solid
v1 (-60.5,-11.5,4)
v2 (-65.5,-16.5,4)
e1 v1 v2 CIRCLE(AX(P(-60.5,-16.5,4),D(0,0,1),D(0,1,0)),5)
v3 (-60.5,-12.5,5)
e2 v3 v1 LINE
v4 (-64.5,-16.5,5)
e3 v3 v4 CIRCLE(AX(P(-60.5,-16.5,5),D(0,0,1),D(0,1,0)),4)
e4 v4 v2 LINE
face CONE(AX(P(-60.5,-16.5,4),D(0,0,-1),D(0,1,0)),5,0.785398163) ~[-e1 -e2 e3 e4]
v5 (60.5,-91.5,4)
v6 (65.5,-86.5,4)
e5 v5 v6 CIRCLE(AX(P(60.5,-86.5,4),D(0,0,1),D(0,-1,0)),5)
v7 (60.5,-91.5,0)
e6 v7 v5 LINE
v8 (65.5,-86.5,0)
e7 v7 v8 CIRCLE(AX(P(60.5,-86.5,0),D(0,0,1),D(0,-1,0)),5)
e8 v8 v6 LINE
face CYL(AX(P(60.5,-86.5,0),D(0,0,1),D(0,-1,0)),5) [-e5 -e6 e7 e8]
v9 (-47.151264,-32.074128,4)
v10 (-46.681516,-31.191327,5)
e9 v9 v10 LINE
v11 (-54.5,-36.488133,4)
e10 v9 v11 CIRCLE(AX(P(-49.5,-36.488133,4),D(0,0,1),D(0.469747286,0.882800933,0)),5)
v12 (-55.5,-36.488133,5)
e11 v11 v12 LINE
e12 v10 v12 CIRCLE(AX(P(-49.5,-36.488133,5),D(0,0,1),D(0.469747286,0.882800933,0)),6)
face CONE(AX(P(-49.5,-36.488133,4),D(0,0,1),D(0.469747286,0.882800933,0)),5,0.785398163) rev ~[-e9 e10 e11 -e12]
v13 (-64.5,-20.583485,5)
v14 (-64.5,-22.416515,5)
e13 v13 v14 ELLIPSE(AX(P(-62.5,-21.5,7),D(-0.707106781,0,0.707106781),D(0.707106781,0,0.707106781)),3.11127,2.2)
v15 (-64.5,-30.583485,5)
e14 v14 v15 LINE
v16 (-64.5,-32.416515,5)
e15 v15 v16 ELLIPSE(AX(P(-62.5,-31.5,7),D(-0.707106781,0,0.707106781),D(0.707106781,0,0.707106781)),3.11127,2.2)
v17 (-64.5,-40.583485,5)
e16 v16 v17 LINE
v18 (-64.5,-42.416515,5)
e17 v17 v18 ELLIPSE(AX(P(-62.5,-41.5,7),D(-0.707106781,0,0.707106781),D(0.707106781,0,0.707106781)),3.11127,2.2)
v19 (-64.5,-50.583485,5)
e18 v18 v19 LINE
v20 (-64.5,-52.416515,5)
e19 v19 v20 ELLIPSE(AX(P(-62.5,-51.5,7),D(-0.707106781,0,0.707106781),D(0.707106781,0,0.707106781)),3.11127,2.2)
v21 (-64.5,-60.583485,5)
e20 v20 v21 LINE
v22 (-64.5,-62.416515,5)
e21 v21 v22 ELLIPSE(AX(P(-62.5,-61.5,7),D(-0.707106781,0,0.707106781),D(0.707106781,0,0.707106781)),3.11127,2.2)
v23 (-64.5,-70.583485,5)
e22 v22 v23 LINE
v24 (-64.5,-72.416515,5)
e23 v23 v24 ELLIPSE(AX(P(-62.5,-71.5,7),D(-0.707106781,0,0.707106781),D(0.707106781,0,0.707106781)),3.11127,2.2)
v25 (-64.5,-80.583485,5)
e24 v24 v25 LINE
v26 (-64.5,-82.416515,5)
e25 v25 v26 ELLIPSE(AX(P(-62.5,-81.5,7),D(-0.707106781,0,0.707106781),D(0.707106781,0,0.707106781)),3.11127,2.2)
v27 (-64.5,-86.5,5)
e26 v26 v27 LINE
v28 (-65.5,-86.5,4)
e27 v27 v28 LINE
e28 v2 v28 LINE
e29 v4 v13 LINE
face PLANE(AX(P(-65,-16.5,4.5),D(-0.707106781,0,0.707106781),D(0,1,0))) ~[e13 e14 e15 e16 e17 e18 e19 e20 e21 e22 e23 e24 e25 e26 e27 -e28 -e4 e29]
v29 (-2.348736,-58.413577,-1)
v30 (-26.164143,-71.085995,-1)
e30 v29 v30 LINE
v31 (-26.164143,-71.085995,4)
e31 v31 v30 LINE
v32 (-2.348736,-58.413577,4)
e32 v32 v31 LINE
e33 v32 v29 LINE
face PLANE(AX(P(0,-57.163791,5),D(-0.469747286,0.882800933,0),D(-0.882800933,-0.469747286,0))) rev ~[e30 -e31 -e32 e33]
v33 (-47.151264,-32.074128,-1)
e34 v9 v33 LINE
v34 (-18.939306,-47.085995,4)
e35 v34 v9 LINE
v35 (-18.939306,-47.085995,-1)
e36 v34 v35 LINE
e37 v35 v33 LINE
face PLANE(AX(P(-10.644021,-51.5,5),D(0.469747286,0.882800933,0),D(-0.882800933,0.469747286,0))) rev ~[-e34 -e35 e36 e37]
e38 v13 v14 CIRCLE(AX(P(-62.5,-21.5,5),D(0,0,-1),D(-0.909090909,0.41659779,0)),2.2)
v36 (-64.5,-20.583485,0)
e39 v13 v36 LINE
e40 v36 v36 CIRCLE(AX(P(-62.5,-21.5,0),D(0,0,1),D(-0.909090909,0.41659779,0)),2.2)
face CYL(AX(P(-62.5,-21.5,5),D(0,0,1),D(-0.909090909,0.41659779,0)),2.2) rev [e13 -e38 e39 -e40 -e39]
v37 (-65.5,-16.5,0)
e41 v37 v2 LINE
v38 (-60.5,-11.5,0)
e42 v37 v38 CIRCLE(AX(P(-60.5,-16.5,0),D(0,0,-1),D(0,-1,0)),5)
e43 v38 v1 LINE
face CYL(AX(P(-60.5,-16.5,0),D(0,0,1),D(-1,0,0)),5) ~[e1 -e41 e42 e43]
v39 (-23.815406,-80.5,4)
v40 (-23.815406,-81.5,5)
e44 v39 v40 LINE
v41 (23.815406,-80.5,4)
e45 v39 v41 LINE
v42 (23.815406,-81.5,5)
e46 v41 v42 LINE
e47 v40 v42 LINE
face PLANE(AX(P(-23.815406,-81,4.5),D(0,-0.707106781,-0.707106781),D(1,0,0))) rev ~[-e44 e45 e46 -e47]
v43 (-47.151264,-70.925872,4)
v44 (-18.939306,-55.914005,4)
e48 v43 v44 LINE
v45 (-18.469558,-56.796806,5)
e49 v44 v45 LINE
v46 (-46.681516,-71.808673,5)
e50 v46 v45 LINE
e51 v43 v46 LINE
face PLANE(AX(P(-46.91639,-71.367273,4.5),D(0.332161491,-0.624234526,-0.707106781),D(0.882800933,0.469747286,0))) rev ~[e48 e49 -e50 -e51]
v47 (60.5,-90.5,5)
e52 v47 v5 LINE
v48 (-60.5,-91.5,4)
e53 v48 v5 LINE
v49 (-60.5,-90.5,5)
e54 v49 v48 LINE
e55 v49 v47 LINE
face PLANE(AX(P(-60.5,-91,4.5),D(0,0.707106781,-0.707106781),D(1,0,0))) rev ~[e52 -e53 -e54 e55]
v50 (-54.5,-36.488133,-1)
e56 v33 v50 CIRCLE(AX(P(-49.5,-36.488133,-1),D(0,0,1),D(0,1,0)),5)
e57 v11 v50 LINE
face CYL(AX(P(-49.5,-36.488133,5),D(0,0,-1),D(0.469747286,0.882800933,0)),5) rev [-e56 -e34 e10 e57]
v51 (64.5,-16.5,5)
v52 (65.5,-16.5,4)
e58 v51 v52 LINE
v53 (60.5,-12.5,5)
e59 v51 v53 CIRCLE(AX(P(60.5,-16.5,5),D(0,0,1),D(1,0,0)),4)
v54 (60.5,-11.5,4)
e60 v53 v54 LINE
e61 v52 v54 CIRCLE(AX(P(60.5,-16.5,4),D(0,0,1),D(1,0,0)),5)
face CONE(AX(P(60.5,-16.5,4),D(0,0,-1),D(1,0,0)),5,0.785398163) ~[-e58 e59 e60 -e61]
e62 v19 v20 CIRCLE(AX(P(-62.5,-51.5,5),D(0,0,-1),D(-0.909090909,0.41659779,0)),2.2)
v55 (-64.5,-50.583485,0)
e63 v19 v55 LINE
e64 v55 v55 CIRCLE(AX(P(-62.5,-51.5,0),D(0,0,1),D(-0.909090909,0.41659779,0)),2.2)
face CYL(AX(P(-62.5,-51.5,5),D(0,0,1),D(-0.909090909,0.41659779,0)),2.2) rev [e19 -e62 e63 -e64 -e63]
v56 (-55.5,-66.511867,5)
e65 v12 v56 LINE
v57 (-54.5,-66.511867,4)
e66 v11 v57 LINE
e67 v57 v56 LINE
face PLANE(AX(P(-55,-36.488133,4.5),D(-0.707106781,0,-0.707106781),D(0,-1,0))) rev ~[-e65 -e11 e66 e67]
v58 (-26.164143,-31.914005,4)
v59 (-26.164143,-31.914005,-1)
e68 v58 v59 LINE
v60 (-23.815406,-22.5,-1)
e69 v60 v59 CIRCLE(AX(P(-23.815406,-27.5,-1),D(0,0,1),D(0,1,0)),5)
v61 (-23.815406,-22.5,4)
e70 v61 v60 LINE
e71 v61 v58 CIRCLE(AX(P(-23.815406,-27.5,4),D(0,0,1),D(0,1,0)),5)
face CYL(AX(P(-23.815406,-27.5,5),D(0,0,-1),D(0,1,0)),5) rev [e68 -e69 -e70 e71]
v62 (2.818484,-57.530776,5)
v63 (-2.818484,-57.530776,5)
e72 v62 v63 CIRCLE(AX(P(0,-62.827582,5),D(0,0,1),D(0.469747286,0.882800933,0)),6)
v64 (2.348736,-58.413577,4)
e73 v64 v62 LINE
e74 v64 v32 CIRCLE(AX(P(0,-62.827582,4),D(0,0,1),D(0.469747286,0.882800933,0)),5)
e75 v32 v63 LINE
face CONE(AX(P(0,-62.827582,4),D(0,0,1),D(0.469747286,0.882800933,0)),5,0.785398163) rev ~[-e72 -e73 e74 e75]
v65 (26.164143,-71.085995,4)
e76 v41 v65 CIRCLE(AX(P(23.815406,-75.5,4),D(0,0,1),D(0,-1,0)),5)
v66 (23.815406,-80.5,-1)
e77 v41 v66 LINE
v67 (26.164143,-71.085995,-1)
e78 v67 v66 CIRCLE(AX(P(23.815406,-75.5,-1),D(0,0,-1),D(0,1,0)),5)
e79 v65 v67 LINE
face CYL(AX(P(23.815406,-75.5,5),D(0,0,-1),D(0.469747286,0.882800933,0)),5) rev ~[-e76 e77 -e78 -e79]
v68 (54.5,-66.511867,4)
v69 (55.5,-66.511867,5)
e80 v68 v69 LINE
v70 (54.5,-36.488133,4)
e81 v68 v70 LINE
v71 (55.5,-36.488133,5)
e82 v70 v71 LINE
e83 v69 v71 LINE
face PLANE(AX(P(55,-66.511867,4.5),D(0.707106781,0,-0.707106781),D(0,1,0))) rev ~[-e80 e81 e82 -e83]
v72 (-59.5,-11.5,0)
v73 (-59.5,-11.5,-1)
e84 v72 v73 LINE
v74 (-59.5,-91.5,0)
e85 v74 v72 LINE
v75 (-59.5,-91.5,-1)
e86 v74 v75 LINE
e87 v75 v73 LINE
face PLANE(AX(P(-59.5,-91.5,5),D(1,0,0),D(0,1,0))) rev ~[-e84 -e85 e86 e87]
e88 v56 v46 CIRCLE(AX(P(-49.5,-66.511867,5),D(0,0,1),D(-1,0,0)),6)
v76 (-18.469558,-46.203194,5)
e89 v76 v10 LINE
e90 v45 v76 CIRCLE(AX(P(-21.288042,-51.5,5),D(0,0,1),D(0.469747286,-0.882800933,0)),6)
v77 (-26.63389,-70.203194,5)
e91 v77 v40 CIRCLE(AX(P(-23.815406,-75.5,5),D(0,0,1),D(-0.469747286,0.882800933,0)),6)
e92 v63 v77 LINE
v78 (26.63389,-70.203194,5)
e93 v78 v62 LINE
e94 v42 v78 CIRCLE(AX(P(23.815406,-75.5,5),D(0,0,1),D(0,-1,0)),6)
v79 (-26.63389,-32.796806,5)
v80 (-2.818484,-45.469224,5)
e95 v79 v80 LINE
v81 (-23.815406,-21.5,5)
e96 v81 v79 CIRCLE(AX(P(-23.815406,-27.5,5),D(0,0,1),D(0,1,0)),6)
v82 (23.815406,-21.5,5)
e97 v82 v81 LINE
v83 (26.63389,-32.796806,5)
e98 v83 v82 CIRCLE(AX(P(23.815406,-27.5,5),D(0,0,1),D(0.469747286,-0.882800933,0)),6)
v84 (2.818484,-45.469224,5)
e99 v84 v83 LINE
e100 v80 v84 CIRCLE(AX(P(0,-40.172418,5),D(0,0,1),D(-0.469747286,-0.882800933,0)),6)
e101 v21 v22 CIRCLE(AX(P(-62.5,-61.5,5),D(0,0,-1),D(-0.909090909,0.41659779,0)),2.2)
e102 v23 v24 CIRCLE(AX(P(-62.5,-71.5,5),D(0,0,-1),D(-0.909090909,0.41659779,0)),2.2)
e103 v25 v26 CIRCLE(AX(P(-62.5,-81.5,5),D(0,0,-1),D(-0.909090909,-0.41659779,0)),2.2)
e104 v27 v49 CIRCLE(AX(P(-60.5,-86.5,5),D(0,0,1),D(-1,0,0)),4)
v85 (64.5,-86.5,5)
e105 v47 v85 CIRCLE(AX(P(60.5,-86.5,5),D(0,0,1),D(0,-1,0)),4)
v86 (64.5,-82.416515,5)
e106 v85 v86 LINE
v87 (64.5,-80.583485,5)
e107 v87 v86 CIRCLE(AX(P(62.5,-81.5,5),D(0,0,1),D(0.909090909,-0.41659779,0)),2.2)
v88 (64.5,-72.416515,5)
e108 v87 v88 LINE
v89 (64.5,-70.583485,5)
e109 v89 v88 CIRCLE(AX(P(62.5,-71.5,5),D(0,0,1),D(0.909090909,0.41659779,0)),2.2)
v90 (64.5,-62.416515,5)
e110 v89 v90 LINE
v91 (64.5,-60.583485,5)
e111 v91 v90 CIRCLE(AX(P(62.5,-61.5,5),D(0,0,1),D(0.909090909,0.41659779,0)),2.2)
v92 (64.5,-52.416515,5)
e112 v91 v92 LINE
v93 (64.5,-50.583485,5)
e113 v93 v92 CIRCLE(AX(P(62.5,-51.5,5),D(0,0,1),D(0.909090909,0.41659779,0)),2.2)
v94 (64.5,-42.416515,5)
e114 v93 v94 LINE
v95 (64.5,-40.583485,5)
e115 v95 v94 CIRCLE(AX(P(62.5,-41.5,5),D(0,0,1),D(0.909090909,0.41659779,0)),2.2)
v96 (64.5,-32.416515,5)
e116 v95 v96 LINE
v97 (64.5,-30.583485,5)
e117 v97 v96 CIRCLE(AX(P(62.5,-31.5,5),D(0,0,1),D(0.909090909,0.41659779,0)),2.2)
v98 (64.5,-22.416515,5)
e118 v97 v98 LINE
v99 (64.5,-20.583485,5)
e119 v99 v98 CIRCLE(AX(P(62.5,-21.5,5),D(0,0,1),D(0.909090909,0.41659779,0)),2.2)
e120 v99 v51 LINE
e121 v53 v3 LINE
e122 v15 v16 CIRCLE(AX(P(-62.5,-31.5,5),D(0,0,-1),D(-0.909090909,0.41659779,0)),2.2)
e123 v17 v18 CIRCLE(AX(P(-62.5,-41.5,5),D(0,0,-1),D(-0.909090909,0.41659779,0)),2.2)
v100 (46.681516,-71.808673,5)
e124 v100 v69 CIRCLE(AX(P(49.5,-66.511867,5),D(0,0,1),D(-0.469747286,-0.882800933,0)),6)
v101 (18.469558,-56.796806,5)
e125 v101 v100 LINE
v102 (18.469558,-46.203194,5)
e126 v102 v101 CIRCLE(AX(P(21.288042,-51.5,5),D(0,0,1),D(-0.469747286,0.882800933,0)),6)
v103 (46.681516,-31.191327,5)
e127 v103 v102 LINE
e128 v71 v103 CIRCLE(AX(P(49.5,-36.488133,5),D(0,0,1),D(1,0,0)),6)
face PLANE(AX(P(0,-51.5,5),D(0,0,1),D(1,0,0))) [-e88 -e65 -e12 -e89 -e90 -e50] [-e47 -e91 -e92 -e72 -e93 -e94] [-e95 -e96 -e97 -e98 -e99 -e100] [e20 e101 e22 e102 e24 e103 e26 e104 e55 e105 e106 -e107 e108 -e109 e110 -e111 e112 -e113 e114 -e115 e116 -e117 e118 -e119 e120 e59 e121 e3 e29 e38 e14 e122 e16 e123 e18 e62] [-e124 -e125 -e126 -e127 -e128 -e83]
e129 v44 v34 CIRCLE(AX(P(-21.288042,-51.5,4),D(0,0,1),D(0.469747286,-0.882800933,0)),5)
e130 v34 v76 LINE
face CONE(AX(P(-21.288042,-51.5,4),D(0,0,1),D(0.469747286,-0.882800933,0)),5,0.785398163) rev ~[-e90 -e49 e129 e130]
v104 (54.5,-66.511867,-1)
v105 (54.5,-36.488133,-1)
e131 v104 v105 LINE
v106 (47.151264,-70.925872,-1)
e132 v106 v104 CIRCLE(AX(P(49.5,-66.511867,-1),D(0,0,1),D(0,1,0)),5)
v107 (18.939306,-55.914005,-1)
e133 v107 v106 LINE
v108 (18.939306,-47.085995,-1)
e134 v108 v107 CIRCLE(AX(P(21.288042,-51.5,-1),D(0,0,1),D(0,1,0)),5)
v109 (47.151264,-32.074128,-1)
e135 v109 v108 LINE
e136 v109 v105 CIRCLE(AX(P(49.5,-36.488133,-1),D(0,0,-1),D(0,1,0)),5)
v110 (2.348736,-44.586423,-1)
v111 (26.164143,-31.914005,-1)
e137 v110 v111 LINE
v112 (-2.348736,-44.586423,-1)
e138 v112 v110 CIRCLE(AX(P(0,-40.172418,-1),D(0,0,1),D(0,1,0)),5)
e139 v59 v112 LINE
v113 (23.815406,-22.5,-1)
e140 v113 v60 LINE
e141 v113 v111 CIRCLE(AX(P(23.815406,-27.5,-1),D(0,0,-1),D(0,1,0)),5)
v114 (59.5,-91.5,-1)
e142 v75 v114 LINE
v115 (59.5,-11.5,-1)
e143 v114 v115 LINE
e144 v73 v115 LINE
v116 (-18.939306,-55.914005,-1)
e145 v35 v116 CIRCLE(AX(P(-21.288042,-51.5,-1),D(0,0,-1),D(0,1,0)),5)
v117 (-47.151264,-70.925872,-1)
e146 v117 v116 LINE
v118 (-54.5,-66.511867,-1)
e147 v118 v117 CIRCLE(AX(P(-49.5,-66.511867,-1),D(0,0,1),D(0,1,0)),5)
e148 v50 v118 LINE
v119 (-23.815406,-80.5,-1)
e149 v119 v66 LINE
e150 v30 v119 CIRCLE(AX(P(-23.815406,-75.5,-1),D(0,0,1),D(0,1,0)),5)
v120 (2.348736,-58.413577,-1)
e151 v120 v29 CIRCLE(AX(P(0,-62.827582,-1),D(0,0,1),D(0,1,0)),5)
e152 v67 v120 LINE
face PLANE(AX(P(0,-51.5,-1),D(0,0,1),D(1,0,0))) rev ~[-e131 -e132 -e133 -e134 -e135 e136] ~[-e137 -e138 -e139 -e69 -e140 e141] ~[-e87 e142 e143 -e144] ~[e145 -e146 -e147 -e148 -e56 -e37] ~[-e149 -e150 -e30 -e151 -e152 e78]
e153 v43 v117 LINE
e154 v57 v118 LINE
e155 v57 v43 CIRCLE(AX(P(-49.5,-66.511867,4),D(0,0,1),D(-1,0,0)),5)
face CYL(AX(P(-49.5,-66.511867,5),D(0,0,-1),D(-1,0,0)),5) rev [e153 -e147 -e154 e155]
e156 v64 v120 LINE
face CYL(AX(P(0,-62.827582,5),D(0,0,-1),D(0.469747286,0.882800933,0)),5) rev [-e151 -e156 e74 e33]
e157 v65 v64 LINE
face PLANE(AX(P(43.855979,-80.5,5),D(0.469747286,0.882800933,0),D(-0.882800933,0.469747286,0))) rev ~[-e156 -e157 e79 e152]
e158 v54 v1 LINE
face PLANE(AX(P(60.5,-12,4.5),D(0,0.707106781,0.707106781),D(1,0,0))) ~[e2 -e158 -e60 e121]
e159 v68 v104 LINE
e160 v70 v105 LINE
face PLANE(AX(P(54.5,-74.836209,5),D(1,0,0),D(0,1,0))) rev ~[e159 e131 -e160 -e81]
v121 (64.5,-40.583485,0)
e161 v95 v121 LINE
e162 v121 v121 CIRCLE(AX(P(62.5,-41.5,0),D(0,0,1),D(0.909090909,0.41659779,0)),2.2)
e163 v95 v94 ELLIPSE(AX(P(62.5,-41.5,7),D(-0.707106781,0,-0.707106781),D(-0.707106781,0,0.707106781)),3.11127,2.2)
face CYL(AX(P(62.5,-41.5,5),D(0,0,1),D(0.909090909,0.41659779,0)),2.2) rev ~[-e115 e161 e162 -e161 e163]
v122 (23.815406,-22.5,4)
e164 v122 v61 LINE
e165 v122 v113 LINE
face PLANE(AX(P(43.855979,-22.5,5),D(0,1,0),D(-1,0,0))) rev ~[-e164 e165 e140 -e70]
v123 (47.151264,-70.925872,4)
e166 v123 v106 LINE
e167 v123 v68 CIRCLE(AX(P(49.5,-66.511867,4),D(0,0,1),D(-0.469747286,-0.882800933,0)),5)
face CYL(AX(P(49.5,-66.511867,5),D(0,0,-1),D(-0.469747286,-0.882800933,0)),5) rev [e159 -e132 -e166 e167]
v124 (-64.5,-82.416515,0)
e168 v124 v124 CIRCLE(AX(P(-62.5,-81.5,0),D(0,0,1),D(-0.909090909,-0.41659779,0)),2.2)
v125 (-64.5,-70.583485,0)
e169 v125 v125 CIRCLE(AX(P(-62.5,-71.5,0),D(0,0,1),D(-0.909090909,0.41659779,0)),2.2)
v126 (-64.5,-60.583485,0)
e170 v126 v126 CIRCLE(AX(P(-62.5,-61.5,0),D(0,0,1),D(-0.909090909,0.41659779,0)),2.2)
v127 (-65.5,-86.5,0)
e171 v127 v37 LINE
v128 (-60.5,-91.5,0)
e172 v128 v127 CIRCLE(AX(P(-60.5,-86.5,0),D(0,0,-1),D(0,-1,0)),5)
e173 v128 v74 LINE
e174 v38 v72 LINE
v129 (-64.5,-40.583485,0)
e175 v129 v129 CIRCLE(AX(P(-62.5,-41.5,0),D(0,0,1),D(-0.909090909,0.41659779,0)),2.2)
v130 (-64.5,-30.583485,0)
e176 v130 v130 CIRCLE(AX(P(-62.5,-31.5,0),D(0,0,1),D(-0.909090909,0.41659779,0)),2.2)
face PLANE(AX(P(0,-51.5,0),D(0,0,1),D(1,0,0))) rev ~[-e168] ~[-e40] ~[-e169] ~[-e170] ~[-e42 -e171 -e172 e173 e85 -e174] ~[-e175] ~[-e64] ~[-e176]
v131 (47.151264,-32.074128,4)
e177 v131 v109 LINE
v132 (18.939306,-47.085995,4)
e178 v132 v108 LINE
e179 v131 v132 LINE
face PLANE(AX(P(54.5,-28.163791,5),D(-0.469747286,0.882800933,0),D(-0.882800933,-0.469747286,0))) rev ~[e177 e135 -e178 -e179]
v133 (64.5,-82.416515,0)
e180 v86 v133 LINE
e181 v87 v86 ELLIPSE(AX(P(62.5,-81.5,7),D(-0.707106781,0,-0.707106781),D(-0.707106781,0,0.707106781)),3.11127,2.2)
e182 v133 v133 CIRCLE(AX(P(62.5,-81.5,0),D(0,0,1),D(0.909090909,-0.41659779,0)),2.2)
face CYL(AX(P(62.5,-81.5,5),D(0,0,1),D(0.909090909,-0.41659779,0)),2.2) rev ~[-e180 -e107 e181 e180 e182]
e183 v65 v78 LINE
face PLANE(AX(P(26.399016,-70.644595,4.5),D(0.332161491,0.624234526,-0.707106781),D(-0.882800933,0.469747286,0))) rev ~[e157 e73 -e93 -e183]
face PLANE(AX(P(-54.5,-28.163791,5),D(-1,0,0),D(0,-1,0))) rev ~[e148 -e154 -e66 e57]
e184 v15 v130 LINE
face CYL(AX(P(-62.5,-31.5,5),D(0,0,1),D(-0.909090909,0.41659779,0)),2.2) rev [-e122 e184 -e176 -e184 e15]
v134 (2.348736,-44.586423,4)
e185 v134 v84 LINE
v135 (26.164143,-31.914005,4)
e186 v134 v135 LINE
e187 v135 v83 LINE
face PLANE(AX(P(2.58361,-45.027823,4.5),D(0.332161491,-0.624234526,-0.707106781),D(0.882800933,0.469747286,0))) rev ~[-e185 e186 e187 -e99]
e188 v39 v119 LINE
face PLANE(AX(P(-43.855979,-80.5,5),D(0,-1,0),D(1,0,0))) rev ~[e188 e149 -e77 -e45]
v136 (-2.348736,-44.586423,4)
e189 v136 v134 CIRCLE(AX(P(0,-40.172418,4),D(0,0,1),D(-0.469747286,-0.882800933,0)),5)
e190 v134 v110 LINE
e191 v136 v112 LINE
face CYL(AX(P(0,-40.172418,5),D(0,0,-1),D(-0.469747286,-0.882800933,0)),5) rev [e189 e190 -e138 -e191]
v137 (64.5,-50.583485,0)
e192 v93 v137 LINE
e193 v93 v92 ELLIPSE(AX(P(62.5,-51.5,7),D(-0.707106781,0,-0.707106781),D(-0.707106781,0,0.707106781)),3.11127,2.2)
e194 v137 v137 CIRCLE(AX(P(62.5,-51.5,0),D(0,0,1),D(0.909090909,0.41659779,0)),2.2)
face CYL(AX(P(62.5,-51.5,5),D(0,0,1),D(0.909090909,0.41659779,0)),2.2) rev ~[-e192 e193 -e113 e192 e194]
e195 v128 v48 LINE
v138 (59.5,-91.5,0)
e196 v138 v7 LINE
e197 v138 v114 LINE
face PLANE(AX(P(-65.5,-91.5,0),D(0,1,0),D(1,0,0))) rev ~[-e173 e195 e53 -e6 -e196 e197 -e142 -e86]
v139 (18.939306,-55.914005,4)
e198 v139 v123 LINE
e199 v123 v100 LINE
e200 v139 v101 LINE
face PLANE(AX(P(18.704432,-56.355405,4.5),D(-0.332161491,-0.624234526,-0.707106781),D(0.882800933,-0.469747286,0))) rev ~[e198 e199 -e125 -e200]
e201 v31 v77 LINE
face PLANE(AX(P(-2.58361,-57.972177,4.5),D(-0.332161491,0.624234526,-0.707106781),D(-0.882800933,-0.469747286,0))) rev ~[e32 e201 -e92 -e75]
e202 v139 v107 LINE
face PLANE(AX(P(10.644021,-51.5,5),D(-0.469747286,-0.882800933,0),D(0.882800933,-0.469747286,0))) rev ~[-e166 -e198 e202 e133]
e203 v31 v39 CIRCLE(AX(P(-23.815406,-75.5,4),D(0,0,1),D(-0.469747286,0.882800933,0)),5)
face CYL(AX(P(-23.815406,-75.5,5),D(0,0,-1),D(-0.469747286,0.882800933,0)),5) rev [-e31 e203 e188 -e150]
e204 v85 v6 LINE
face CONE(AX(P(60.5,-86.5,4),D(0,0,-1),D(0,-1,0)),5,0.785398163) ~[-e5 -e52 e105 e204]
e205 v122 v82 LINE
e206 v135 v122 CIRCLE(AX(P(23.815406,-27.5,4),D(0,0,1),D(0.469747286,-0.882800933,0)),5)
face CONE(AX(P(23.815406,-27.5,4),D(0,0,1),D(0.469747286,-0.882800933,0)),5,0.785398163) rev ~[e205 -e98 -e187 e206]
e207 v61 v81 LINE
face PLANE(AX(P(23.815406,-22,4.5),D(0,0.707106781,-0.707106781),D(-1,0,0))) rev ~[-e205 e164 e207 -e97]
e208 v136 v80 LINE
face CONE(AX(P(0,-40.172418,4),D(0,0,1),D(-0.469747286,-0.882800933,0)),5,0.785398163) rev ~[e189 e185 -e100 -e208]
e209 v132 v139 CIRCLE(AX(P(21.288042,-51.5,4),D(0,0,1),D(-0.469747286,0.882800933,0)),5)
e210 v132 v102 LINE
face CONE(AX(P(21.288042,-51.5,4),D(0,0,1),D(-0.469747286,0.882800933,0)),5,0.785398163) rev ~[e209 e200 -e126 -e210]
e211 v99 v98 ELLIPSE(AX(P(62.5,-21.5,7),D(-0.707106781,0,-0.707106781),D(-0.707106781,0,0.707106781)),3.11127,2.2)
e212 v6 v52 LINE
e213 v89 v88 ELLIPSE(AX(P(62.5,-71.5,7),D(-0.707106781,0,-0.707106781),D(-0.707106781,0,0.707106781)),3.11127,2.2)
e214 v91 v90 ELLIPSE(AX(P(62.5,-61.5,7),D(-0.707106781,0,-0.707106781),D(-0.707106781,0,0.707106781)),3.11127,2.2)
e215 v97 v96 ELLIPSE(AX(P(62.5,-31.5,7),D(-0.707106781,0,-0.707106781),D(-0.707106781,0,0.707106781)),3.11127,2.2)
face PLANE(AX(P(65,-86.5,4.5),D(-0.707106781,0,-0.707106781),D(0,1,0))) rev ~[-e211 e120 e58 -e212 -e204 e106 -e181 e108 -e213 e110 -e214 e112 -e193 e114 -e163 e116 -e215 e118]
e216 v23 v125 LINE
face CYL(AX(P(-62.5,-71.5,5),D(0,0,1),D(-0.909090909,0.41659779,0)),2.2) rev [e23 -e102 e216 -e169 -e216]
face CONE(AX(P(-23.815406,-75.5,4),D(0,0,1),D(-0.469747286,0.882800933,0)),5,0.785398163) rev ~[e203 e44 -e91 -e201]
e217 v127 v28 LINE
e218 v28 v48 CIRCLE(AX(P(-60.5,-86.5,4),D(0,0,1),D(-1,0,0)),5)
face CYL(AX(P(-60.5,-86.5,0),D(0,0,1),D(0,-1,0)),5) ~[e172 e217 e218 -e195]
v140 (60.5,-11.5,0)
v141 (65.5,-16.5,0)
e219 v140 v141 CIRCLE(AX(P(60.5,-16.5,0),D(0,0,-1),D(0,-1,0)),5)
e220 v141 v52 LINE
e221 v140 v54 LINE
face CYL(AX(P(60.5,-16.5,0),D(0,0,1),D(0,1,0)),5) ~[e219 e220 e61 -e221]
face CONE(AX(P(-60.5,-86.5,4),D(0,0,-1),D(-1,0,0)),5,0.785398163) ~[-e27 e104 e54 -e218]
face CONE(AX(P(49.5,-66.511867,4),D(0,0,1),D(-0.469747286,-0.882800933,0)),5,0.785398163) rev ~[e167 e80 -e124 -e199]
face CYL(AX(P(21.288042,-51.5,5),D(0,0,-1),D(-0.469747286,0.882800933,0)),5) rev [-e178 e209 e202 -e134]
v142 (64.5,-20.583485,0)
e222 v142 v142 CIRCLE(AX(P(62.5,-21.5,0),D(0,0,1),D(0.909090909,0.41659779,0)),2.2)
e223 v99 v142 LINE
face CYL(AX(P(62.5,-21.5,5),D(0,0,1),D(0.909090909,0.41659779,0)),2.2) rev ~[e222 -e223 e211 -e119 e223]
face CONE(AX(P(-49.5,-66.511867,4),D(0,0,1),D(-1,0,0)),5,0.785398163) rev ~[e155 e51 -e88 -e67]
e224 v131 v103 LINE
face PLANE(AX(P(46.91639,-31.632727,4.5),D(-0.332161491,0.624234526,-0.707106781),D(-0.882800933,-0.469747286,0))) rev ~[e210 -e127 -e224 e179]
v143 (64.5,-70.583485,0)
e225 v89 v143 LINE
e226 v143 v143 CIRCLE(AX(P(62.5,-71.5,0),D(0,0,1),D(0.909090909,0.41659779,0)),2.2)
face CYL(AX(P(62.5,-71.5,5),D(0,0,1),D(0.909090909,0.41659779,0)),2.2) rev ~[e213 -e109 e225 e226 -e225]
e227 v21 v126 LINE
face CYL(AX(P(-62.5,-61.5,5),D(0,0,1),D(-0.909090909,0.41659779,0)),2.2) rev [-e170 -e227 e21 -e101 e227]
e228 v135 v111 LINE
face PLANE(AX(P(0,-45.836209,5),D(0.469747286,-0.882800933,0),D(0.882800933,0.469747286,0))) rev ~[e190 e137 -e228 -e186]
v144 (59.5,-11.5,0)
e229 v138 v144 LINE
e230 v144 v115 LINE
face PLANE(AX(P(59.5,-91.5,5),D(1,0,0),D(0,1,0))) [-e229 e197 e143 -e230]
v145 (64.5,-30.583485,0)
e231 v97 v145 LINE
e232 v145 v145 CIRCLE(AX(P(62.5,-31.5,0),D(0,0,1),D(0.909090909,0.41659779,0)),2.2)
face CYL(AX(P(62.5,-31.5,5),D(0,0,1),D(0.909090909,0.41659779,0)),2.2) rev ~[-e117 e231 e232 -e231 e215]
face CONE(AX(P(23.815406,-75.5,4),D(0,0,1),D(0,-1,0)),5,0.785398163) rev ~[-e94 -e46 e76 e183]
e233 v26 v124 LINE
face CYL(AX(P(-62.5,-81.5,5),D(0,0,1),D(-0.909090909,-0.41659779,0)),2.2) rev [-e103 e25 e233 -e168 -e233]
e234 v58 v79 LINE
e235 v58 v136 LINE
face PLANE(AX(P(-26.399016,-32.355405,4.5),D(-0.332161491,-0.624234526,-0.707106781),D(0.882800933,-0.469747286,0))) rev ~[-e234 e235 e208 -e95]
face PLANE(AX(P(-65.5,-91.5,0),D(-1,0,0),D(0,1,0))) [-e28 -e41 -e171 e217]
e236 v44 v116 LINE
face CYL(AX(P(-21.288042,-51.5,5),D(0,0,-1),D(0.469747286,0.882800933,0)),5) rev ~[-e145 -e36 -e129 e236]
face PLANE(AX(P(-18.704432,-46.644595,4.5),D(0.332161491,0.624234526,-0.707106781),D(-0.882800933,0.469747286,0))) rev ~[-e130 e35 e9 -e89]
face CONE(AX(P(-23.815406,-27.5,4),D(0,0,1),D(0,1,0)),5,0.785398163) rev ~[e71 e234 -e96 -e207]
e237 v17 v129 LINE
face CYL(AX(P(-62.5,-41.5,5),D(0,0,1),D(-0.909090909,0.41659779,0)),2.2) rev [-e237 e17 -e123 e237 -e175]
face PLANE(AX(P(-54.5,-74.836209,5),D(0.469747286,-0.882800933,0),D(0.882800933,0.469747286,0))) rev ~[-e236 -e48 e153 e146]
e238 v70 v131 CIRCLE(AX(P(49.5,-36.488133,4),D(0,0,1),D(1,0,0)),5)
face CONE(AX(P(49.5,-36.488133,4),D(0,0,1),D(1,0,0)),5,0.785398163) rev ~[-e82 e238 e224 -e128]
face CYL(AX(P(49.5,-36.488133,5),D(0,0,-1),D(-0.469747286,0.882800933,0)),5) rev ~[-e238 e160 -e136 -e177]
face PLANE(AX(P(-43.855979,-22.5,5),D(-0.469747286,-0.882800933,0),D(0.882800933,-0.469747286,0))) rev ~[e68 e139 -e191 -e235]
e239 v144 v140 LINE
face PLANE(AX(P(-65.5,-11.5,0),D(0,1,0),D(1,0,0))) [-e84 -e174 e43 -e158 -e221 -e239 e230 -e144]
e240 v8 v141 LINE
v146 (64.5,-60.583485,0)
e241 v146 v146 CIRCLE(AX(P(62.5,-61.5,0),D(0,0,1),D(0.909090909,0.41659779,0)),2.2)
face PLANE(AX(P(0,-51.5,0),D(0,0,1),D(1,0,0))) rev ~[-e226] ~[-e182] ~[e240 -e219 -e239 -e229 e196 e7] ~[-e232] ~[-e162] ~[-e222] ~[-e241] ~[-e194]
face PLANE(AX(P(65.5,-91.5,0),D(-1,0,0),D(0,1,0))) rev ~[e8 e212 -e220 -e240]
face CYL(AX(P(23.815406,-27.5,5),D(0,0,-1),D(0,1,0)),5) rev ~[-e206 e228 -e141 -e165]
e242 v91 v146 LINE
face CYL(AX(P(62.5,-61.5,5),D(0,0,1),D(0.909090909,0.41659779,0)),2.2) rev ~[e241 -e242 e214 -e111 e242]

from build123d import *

# Parameters (mm, degrees)
SKETCH_3_W          = 131
SKETCH_3_H          = 80
EXTRUDE_3_DEPTH     = 5
SKETCH_4_W          = 119
SKETCH_4_H          = 80
EXTRUDE_4_DEPTH     = 6
FILLET_2_R          = 5
CHAMFER_1_SIZE      = 1
CUT_EXTRUDE_1_DEPTH = 6
FILLET_3_R          = 5
CHAMFER_2_SIZE      = 1
SKETCH_6_R          = 2.2
CUT_EXTRUDE_2_DEPTH = 11


with BuildPart() as part:
    # 草图3 → 凸台-拉伸3 (new body)
    with BuildSketch(Plane.XY):
        with Locations((0, -51.5)):
            Rectangle(SKETCH_3_W, SKETCH_3_H)
    extrude(amount=EXTRUDE_3_DEPTH)

    # 草图4 → 凸台-拉伸4 (add)
    with BuildSketch(Plane.XY.offset(5)):
        with Locations((0, -51.5)):
            Rectangle(SKETCH_4_W, SKETCH_4_H)
    extrude(amount=-EXTRUDE_4_DEPTH)

    # 圆角2
    fillet_2_edges = [part.edges().sort_by_distance(p)[0] for p in [
        (-65.5, -11.5, 2.5),
        (65.5, -11.5, 2.5),
        (65.5, -91.5, 2.5),
        (-65.5, -91.5, 2.5),
    ]]
    fillet(fillet_2_edges, radius=FILLET_2_R)

    # 倒角1
    chamfer_1_edges = [part.edges().sort_by_distance(p)[0] for p in [
        (0, -11.5, 5),
        (65.5, -51.5, 5),
        (0, -91.5, 5),
        (-65.5, -51.5, 5),
        (64.035533906, -90.035533906, 5),
        (-64.035533906, -90.035533906, 5),
        (-64.035533906, -12.964466094, 5),
        (64.035533906, -12.964466094, 5),
    ]]
    chamfer(chamfer_1_edges, length=CHAMFER_1_SIZE)

    # 草图5 → 切除-拉伸1 (cut)
    with BuildSketch(Plane.XY.offset(5)):
        Polygon((-10.644021059, -51.5), (-54.5, -28.163791023), (-54.5, -74.836208978), align=None)
        Polygon((43.855978941, -22.5), (-43.855978941, -22.5), (0, -45.836208978), align=None)
        Polygon((54.5, -28.163791023), (10.644021059, -51.5), (54.5, -74.836208978), align=None)
        Polygon((43.855978941, -80.5), (0, -57.163791023), (-43.855978941, -80.5), align=None)
    extrude(amount=-CUT_EXTRUDE_1_DEPTH, mode=Mode.SUBTRACT)

    # 圆角3
    fillet_3_edges = [part.edges().sort_by_distance(p)[0] for p in [
        (10.644021059, -51.5, 2),
        (54.5, -28.163791023, 2),
        (54.5, -74.836208978, 2),
        (-43.855978941, -22.5, 2),
        (43.855978941, -22.5, 2),
        (0, -45.836208978, 2),
        (-43.855978941, -80.5, 2),
        (0, -57.163791023, 2),
        (43.855978941, -80.5, 2),
        (-54.5, -74.836208978, 2),
        (-54.5, -28.163791023, 2),
        (-10.644021059, -51.5, 2),
    ]]
    fillet(fillet_3_edges, radius=FILLET_3_R)

    # 倒角2
    chamfer_2_edges = [part.edges().sort_by_distance(p)[0] for p in [
        (33.045284631, -39.580061586, 5),
        (54.5, -51.5, 5),
        (33.045284631, -63.419938415, 5),
        (14.256439507, -38.250213644, 5),
        (-14.256439507, -38.250213644, 5),
        (0, -22.5, 5),
        (-33.045284631, -39.580061586, 5),
        (-33.045284631, -63.419938415, 5),
        (-54.5, -51.5, 5),
        (-14.256439507, -64.749786356, 5),
        (14.256439507, -64.749786356, 5),
        (0, -80.5, 5),
        (52.074521107, -32.201893935, 5),
        (52.074521107, -70.798106066, 5),
        (16.288042118, -51.5, 5),
        (0, -45.172417956, 5),
        (-28.666695849, -26.289632976, 5),
        (28.666695849, -26.289632976, 5),
        (-16.288042118, -51.5, 5),
        (-52.074521107, -70.798106066, 5),
        (-52.074521107, -32.201893935, 5),
        (0, -57.827582045, 5),
        (28.666695849, -76.710367025, 5),
        (-28.666695849, -76.710367025, 5),
    ]]
    chamfer(chamfer_2_edges, length=CHAMFER_2_SIZE)

    # 草图6 → 切除-拉伸2 (cut)
    with BuildSketch(Plane.XY.offset(5)):
        with Locations(Location((62.5, -21.5, 0), (0, 0, 24.619977329))):
            Circle(SKETCH_6_R)
        with Locations(Location((62.5, -31.5, 0), (0, 0, 24.619977329))):
            Circle(SKETCH_6_R)
        with Locations(Location((62.5, -41.5, 0), (0, 0, 24.619977329))):
            Circle(SKETCH_6_R)
        with Locations(Location((62.5, -51.5, 0), (0, 0, 24.619977329))):
            Circle(SKETCH_6_R)
        with Locations(Location((62.5, -61.5, 0), (0, 0, 24.619977329))):
            Circle(SKETCH_6_R)
        with Locations(Location((62.5, -71.5, 0), (0, 0, 24.619977329))):
            Circle(SKETCH_6_R)
        with Locations(Location((62.5, -81.5, 0), (0, 0, 335.380022671))):
            Circle(SKETCH_6_R)
    cut_extrude_2 = extrude(amount=-CUT_EXTRUDE_2_DEPTH, mode=Mode.SUBTRACT)

    # 镜向1: 切除-拉伸2 across plane
    add(cut_extrude_2.mirror(Plane(origin=(0, 0, 0), x_dir=(0, 0, 1), z_dir=(1, 0, 0))), mode=Mode.SUBTRACT)


solid = part.part
